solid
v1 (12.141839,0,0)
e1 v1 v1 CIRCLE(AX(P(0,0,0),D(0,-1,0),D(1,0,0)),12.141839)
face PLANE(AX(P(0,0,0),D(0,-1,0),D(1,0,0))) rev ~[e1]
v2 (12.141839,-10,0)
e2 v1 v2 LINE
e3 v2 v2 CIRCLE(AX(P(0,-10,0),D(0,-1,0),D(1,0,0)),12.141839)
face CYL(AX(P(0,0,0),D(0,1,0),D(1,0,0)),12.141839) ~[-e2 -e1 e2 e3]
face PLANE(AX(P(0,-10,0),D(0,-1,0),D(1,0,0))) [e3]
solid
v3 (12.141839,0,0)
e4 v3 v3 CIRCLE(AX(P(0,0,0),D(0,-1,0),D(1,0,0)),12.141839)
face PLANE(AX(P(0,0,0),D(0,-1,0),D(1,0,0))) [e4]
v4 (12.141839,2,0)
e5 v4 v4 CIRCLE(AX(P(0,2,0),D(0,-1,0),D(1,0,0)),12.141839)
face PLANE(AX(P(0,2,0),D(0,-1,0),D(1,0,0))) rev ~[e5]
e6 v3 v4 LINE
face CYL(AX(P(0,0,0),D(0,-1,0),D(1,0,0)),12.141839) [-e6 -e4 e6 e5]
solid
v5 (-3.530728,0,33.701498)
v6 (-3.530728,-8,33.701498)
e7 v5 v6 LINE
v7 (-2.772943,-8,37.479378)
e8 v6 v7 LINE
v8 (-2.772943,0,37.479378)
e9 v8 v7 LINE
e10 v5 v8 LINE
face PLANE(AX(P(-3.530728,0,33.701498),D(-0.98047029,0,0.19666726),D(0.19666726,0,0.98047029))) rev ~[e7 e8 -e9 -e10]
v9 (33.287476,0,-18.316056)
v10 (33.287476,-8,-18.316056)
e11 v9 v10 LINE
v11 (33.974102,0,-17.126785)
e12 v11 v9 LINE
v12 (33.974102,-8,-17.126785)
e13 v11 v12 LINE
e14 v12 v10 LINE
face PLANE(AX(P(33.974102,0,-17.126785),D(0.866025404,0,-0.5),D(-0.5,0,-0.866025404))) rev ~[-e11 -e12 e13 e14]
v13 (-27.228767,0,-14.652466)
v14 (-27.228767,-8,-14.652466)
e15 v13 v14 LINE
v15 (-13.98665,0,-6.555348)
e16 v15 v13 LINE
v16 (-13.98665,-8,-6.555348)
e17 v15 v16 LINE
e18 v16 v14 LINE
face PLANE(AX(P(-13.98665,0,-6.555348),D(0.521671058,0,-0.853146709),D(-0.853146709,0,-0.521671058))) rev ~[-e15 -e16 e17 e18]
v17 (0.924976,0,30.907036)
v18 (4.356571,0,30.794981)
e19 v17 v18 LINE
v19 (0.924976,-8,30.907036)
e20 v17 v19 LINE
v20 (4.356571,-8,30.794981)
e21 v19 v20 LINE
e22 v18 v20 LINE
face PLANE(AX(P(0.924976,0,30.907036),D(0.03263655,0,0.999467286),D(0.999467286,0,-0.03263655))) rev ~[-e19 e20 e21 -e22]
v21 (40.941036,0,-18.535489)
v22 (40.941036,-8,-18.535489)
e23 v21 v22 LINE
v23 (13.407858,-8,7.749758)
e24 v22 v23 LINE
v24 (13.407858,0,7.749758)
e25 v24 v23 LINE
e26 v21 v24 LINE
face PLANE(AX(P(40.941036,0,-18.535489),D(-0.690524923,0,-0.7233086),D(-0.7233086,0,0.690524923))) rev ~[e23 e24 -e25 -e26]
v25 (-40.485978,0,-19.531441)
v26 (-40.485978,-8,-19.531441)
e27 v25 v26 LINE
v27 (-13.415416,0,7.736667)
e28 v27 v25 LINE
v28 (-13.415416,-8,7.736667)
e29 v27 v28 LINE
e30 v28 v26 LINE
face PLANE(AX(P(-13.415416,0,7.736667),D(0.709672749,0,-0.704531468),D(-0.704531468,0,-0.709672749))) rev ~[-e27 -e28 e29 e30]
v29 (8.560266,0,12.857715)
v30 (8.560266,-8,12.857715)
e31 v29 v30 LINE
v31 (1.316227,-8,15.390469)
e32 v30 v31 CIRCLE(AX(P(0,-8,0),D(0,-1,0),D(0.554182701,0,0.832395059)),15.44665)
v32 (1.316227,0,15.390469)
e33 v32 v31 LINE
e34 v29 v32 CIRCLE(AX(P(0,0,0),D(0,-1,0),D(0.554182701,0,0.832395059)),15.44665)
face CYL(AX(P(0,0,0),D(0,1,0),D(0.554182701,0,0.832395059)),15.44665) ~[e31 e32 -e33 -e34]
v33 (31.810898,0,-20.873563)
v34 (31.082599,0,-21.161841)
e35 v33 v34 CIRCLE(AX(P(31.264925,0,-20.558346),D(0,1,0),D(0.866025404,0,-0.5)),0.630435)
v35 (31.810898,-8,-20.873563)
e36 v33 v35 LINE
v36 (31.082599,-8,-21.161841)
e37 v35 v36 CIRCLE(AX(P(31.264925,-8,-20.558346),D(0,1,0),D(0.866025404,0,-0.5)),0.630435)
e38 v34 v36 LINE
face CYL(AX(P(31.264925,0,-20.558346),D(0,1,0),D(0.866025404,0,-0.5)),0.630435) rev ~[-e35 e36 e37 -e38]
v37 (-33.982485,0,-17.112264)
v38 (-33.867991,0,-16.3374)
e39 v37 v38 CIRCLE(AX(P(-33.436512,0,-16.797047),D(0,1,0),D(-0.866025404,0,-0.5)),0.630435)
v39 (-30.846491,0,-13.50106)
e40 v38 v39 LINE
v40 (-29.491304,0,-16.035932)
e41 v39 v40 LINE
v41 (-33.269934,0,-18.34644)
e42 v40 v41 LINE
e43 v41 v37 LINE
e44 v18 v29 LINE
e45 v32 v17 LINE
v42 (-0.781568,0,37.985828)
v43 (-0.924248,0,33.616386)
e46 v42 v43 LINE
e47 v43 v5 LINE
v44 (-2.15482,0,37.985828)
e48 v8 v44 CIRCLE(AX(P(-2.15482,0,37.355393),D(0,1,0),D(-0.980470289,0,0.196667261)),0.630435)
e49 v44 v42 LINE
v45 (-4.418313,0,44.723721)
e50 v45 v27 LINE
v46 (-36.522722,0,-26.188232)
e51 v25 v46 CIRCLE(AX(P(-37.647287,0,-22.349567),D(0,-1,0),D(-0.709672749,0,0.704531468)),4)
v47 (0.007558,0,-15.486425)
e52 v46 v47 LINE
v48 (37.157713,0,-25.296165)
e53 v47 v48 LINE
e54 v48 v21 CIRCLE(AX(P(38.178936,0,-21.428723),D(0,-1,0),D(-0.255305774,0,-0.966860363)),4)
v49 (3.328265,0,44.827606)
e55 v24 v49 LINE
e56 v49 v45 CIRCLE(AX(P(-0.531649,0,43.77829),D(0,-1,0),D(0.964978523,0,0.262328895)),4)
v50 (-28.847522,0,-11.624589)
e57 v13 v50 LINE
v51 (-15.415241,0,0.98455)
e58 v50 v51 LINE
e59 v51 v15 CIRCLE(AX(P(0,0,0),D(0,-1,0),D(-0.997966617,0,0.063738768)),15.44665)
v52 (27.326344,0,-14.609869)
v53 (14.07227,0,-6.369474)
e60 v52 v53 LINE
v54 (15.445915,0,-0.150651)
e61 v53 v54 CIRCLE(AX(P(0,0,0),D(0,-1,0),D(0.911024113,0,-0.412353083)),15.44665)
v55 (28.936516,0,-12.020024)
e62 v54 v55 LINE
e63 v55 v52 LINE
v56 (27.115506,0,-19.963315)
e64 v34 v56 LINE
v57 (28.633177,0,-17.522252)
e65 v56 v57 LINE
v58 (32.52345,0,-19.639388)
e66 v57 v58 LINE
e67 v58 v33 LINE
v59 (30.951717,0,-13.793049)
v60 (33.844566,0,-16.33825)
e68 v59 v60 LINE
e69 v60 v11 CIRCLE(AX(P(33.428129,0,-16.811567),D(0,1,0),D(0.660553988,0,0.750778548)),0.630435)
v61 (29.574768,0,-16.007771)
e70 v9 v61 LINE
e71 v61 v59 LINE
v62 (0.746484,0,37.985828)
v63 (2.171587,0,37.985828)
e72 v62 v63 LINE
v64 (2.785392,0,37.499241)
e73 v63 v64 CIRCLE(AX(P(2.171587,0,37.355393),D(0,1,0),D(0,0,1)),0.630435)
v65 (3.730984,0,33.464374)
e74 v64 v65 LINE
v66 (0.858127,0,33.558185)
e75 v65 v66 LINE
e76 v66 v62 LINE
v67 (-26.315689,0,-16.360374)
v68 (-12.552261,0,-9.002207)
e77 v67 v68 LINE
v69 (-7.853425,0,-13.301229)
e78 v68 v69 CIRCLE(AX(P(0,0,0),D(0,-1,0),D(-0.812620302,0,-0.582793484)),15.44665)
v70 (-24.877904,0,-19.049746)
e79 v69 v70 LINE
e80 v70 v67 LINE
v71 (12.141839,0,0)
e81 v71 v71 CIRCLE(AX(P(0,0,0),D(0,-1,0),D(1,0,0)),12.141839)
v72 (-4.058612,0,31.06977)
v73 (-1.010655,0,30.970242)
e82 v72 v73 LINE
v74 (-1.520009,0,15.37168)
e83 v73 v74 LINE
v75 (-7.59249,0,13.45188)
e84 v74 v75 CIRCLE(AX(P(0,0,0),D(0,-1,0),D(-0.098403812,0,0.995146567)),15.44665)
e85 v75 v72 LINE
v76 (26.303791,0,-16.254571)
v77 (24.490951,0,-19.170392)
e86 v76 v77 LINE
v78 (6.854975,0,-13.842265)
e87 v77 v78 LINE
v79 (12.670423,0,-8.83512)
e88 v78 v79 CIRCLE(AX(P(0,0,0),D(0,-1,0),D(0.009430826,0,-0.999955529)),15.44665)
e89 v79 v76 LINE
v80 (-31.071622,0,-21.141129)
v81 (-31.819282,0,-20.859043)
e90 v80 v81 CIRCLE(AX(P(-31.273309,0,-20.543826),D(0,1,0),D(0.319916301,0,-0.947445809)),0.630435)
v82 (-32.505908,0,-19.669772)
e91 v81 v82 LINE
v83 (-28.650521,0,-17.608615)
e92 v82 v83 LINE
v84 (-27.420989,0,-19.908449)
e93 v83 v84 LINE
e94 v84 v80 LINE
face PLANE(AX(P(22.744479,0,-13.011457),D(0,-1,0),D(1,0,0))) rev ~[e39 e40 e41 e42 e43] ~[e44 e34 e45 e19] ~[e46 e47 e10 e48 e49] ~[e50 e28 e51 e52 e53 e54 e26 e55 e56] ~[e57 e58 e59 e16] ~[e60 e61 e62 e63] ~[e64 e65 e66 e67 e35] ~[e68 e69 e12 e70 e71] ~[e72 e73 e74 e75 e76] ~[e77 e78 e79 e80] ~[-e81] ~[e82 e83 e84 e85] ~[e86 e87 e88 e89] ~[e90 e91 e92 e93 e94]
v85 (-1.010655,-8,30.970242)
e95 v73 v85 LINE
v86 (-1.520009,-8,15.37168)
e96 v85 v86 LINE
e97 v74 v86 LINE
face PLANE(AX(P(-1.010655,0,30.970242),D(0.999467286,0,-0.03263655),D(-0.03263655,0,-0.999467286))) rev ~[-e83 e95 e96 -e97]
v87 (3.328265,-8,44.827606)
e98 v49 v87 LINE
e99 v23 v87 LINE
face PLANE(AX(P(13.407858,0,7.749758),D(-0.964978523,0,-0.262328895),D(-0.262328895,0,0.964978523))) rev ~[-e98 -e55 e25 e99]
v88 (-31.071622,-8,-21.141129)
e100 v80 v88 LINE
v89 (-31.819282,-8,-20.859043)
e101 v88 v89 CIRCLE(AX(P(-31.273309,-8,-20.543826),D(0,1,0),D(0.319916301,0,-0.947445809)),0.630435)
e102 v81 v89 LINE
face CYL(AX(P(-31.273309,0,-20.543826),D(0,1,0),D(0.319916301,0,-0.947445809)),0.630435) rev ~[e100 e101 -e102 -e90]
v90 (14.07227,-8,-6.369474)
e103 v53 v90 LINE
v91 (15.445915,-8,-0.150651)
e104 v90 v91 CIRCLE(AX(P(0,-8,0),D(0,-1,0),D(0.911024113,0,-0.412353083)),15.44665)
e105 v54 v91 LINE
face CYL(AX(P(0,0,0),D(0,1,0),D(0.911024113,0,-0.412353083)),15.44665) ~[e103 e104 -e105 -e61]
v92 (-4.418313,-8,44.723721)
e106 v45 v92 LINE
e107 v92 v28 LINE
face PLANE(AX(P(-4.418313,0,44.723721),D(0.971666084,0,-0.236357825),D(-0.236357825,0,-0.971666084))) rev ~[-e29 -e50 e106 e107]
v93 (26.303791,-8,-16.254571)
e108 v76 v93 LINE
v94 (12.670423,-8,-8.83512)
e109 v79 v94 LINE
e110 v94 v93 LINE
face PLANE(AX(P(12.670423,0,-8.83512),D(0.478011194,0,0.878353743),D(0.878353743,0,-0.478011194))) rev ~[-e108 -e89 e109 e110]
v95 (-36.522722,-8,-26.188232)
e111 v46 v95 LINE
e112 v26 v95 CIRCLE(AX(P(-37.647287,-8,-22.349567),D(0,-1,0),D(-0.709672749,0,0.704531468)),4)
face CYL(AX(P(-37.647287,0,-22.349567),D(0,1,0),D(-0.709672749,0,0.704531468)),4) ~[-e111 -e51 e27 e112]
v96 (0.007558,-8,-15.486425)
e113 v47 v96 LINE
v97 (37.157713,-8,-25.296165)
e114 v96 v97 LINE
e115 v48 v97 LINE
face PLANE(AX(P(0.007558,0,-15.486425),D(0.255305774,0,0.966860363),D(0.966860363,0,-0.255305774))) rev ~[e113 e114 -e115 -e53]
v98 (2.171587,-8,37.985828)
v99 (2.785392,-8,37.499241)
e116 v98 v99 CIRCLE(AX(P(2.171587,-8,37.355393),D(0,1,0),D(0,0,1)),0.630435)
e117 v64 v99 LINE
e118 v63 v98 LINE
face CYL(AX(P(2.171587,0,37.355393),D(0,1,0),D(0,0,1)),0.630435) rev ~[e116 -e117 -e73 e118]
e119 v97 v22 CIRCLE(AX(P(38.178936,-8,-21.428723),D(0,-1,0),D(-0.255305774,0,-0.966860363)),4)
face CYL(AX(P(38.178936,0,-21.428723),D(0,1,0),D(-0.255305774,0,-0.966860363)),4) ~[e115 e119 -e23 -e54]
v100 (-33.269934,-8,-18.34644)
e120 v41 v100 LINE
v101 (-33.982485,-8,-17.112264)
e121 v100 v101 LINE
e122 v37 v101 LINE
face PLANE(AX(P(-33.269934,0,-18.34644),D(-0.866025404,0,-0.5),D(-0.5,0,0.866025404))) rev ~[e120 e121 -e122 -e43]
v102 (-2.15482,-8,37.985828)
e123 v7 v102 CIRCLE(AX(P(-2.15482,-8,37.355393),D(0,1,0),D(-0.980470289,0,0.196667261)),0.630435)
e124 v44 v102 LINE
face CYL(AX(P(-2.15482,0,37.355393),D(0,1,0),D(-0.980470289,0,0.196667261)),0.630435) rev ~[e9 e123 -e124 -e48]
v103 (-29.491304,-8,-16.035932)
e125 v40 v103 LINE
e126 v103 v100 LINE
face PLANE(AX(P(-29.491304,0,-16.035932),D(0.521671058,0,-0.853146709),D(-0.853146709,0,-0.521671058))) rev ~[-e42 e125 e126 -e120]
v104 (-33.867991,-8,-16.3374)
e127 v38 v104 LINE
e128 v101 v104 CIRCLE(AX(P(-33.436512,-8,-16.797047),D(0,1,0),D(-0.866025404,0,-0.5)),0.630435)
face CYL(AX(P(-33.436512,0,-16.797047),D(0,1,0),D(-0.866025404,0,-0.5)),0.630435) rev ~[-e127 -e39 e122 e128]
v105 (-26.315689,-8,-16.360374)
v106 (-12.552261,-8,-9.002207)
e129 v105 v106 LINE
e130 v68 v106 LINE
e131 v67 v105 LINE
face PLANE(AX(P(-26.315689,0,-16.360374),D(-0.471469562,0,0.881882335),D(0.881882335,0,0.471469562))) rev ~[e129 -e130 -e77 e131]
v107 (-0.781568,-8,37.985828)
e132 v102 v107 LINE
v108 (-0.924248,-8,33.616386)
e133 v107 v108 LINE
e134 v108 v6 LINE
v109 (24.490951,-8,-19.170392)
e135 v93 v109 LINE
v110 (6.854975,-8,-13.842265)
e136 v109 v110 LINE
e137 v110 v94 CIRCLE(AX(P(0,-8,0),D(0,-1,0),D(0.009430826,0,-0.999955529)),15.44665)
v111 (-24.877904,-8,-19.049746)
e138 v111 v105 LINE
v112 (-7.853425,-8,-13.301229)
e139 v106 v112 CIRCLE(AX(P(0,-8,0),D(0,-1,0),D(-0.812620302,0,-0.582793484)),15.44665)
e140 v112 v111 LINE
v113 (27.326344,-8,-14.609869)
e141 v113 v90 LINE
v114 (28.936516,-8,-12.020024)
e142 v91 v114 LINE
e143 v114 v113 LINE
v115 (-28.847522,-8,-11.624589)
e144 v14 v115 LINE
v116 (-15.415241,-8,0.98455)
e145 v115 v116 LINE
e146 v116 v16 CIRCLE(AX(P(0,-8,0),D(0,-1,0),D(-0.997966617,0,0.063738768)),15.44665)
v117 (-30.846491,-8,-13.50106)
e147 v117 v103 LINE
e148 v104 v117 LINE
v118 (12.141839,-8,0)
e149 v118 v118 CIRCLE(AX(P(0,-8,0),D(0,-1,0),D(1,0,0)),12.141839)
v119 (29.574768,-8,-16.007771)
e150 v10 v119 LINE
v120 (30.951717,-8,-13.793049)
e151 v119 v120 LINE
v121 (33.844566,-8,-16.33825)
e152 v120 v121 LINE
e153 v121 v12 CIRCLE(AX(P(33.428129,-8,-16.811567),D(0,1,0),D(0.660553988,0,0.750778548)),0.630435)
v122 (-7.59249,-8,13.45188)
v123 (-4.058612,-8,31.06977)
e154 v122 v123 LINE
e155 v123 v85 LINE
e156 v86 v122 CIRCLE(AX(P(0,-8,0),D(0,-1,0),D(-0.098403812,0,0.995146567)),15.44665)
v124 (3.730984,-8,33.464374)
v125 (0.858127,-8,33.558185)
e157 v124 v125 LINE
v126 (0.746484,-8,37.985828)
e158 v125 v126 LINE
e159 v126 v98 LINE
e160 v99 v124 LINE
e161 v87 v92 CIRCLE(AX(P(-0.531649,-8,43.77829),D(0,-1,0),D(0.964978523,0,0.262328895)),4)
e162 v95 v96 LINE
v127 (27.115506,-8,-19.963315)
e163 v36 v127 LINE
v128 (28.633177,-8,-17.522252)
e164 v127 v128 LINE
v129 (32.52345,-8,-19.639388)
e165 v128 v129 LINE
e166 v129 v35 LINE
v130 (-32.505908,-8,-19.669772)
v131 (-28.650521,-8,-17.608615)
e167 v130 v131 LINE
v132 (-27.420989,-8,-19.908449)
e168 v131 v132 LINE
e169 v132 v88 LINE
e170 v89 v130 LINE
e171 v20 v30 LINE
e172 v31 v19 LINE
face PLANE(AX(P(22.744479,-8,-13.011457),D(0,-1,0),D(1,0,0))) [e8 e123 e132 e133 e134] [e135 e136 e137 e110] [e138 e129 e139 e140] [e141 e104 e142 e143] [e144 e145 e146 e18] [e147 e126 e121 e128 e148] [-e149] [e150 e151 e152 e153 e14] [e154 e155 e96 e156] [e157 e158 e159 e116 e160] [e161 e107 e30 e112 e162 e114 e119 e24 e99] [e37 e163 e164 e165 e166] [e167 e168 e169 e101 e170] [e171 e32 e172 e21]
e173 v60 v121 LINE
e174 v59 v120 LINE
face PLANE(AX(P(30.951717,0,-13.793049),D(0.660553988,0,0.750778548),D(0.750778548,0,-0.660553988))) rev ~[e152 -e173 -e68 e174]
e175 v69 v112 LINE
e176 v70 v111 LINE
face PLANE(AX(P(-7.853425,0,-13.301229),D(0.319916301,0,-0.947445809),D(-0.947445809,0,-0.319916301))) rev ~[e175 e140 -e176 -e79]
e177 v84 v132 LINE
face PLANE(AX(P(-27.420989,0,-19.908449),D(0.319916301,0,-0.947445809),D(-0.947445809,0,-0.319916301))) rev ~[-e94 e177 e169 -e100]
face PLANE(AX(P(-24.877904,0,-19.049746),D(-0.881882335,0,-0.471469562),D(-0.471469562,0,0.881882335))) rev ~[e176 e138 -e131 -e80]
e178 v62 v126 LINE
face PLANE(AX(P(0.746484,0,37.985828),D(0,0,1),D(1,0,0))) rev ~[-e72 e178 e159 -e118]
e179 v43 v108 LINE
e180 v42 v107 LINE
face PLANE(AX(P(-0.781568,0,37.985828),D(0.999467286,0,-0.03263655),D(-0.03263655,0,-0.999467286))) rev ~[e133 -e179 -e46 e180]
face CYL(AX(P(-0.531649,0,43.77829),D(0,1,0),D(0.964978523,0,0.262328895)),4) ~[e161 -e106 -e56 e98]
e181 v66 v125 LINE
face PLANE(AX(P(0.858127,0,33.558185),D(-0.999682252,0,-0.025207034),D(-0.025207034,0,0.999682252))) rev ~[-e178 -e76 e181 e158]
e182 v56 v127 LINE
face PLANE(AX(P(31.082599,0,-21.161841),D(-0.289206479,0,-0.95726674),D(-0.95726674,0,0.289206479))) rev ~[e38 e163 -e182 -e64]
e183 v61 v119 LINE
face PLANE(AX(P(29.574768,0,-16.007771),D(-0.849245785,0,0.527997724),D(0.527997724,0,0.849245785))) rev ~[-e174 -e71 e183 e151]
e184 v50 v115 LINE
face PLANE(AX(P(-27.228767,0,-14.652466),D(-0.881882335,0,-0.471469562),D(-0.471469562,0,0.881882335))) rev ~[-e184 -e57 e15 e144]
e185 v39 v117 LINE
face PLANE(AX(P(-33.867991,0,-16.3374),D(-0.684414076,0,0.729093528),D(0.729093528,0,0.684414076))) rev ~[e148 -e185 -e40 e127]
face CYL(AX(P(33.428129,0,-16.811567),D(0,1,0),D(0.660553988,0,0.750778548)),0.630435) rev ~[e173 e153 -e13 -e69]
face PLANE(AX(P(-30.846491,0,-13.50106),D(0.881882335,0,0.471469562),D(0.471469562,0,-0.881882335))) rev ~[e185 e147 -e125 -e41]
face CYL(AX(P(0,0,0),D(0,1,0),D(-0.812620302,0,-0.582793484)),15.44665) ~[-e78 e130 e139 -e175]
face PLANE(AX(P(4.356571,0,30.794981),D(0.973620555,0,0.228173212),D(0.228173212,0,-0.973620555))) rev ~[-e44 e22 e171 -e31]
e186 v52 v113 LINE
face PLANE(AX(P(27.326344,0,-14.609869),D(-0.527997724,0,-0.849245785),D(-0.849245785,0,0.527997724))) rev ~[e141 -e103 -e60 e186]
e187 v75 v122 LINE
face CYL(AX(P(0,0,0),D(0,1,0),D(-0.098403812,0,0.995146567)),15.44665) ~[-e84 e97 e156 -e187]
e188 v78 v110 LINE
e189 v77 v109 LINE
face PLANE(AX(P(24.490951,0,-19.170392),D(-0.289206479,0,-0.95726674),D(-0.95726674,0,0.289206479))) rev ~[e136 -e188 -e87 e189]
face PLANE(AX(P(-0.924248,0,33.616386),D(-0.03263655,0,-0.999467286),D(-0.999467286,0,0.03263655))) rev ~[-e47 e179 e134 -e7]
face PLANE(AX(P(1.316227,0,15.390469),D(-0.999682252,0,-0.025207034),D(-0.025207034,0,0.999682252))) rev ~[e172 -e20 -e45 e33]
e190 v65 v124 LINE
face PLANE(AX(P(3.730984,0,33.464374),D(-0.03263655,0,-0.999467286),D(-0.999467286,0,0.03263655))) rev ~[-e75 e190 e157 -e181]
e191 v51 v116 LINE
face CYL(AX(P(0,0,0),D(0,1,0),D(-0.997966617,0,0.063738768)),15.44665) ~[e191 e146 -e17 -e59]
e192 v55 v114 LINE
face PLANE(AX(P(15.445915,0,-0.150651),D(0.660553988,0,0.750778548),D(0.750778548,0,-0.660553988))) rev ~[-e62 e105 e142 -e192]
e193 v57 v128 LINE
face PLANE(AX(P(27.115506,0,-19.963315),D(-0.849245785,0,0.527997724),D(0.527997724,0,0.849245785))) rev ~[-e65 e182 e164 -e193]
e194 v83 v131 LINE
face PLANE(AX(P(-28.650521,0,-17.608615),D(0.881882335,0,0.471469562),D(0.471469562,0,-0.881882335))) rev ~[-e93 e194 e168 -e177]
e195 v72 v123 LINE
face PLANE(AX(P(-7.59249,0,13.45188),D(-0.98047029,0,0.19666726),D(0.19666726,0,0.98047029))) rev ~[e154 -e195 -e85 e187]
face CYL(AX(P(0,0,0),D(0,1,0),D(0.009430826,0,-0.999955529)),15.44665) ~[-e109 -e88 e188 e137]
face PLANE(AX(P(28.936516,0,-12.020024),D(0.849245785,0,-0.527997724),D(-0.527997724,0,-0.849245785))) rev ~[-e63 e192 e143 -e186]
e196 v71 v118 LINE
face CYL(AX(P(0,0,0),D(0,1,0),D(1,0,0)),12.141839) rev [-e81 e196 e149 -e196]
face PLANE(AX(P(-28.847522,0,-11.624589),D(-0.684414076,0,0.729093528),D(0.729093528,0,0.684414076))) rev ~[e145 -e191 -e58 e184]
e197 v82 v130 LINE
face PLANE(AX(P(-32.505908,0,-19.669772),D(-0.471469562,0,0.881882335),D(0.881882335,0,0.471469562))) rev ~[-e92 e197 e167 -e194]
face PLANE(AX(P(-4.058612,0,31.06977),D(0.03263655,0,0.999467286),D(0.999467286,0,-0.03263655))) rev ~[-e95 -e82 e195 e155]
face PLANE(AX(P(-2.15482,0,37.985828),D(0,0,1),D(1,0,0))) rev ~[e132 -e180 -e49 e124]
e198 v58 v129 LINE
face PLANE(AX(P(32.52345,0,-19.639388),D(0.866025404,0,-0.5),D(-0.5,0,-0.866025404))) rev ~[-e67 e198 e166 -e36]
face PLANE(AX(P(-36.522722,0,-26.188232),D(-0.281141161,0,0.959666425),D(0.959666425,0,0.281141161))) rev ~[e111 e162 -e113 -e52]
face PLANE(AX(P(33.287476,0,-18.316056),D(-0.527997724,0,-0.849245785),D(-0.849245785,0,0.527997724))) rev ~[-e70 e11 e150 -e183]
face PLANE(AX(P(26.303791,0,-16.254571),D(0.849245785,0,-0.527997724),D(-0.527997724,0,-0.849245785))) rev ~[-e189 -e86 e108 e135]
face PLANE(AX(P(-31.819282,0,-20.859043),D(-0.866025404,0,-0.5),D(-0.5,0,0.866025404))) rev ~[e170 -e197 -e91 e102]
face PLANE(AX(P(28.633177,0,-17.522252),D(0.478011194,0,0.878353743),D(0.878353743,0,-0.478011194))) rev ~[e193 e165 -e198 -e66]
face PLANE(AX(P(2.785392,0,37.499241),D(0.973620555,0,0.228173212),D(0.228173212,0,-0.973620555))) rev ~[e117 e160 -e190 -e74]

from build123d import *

# Parameters (mm, degrees)
F0_R     = 12.1418390121
F1_DEPTH = 8
F2_DEPTH = 2
F3_DEPTH = 10


with BuildPart() as f1:
    # F0 (on Front) → F1 (new body)
    with BuildSketch(Plane.XZ):
        with BuildLine():
            ThreePointArc((13.4494333026, 7.5968233332), (14.9390037013, 3.9274863881), (15.4466495046, 0))
            ThreePointArc((15.4466495046, 0), (15.4464658378, -0.0753262184), (15.4459148418, -0.1506506455))
            Line((15.4459148418, -0.1506506455), (28.9365164109, -12.0200237039))
            Line((28.9365164109, -12.0200237039), (30.9517174769, -13.7930486589))
            Line((30.9517174769, -13.7930486589), (33.8445656343, -16.338249761))
            ThreePointArc((33.8445656343, -16.338249761), (34.0502262206, -16.7093721334), (33.9741020568, -17.1267846437))
            Line((33.9741020568, -17.1267846437), (33.287475865, -18.3160560936))
            Line((33.287475865, -18.3160560936), (32.5234499077, -19.63938787))
            Line((32.5234499077, -19.63938787), (31.8108983077, -20.8735634443))
            ThreePointArc((31.8108983077, -20.8735634443), (31.4969505806, -21.1445308611), (31.0825994105, -21.1618405147))
            Line((31.0825994105, -21.1618405147), (27.1155061195, -19.9633145088))
            Line((27.1155061195, -19.9633145088), (24.4909505049, -19.1703918504))
            Line((24.4909505049, -19.1703918504), (6.8549746085, -13.8422651338))
            ThreePointArc((6.8549746085, -13.8422651338), (3.5909934423, -15.0234399195), (0.1456746567, -15.4459625732))
            Line((0.1456746567, -15.4459625732), (0.0075583308, -15.4864247412))
            Line((0.0075583308, -15.4864247412), (37.1577128338, -25.2961649207))
            ThreePointArc((37.1577128338, -25.2961649207), (41.6695443761, -23.3820930381), (40.9410356224, -18.535489069))
            Line((40.9410356224, -18.535489069), (13.4078580743, 7.7497580771))
            Line((13.4078580743, 7.7497580771), (13.4494333026, 7.5968233332))
        make_face()
        with BuildLine():
            ThreePointArc((13.3037586459, 7.8491392399), (13.3771908743, 7.7233247523), (13.4494333026, 7.5968233332))
            Line((13.4494333026, 7.5968233332), (13.4078580743, 7.7497580771))
            Line((13.4078580743, 7.7497580771), (13.3037586459, 7.8491392399))
        make_face()
        with BuildLine():
            ThreePointArc((8.5602659475, 12.8577147202), (11.2151839013, 10.6216115056), (13.3037586459, 7.8491392399))
            Line((13.3037586459, 7.8491392399), (13.4078580743, 7.7497580771))
            Line((13.4078580743, 7.7497580771), (3.3282650227, 44.8276057209))
            ThreePointArc((3.3282650227, 44.8276057209), (-0.5852856234, 47.7779305128), (-4.4183134059, 44.7237214407))
            Line((-4.4183134059, 44.7237214407), (-13.4154164051, 7.7366666641))
            Line((-13.4154164051, 7.7366666641), (-13.3037586459, 7.8491392399))
            ThreePointArc((-13.3037586459, 7.8491392399), (-10.8171613269, 11.0266949602), (-7.5924901348, 13.4518799604))
            Line((-7.5924901348, 13.4518799604), (-4.0586123238, 31.0697701608))
            Line((-4.0586123238, 31.0697701608), (-3.5307282042, 33.7014979552))
            Line((-3.5307282042, 33.7014979552), (-2.7729434708, 37.4793784999))
            ThreePointArc((-2.7729434708, 37.4793784999), (-2.5543723614, 37.8430469783), (-2.1548204418, 37.9858277738))
            Line((-2.1548204418, 37.9858277738), (-0.7815680583, 37.9858277738))
            Line((-0.7815680583, 37.9858277738), (0.7464838564, 37.9858277738))
            Line((0.7464838564, 37.9858277738), (2.1715870564, 37.9858277738))
            ThreePointArc((2.1715870564, 37.9858277738), (2.5632255865, 37.8494247751), (2.7853917713, 37.4992409625))
            Line((2.7853917713, 37.4992409625), (3.7309844486, 33.4643743904))
            Line((3.7309844486, 33.4643743904), (4.3565710905, 30.7949812253))
            Line((4.3565710905, 30.7949812253), (8.5602659475, 12.8577147202))
        make_face()
        with BuildLine():
            Line((-13.3037586459, 7.8491392399), (-13.4154164051, 7.7366666641))
            Line((-13.4154164051, 7.7366666641), (-13.4494333026, 7.5968233332))
            ThreePointArc((-13.4494333026, 7.5968233332), (-13.3771908743, 7.7233247523), (-13.3037586459, 7.8491392399))
        make_face()
        with BuildLine():
            Line((-13.4494333026, 7.5968233332), (-13.4154164051, 7.7366666641))
            Line((-13.4154164051, 7.7366666641), (-40.4859778565, -19.5314408002))
            ThreePointArc((-40.4859778565, -19.5314408002), (-41.0842587527, -24.3958374747), (-36.5227222165, -26.1882323718))
            Line((-36.5227222165, -26.1882323718), (0.0075583308, -15.4864247412))
            Line((0.0075583308, -15.4864247412), (-0.1456746567, -15.4459625732))
            ThreePointArc((-0.1456746567, -15.4459625732), (-4.1408172919, -14.881283986), (-7.853424707, -13.3012293149))
            Line((-7.853424707, -13.3012293149), (-24.8779040871, -19.0497464569))
            Line((-24.8779040871, -19.0497464569), (-27.4209892727, -19.9084492963))
            Line((-27.4209892727, -19.9084492963), (-31.0716221636, -21.1411287389))
            ThreePointArc((-31.0716221636, -21.1411287389), (-31.4958538591, -21.1336748449), (-31.819281615, -20.8590431301))
            Line((-31.819281615, -20.8590431301), (-32.5059078068, -19.6697716802))
            Line((-32.5059078068, -19.6697716802), (-33.2699337641, -18.3464399038))
            Line((-33.2699337641, -18.3464399038), (-33.9824853641, -17.1122643295))
            ThreePointArc((-33.9824853641, -17.1122643295), (-34.0601761671, -16.704893914), (-33.8679911818, -16.3374004478))
            Line((-33.8679911818, -16.3374004478), (-30.8464905681, -13.5010598816))
            Line((-30.8464905681, -13.5010598816), (-28.8475215954, -11.6245893748))
            Line((-28.8475215954, -11.6245893748), (-15.415240556, 0.9845504136))
            ThreePointArc((-15.415240556, 0.9845504136), (-14.8061773437, 4.4018284139), (-13.4494333026, 7.5968233332))
        make_face()
        with BuildLine():
            Line((-0.1456746567, -15.4459625732), (0.0075583308, -15.4864247412))
            Line((0.0075583308, -15.4864247412), (0.1456746567, -15.4459625732))
            ThreePointArc((0.1456746567, -15.4459625732), (0, -15.4466495046), (-0.1456746567, -15.4459625732))
        make_face()
        Polygon((-28.6505205455, -17.6086149121), (-29.4913038382, -16.0359324036), (-33.2699337641, -18.3464399038), (-32.5059078068, -19.6697716802), align=None)
        Polygon((-26.3156893084, -16.360373716), (-27.2287665842, -14.6524655394), (-29.4913038382, -16.0359324036), (-28.6505205455, -17.6086149121), align=None)
        with BuildLine():
            ThreePointArc((-12.552260982, -9.0022066826), (-13.3257357106, -7.8117698819), (-13.9866503322, -6.5553484576))
            Line((-13.9866503322, -6.5553484576), (-27.2287665842, -14.6524655394))
            Line((-27.2287665842, -14.6524655394), (-26.3156893084, -16.360373716))
            Line((-26.3156893084, -16.360373716), (-12.552260982, -9.0022066826))
        make_face()
        with BuildLine():
            ThreePointArc((15.4459148418, -0.1506506455), (15.4464658378, -0.0753262184), (15.4466495046, 0))
            ThreePointArc((15.4466495046, 0), (14.9390037013, 3.9274863881), (13.4494333026, 7.5968233332))
            ThreePointArc((13.4494333026, 7.5968233332), (13.3771908743, 7.7233247523), (13.3037586459, 7.8491392399))
            ThreePointArc((13.3037586459, 7.8491392399), (11.2151839013, 10.6216115056), (8.5602659475, 12.8577147202))
            ThreePointArc((8.5602659475, 12.8577147202), (5.0980376929, 14.5811176732), (1.3162268711, 15.3904687304))
            ThreePointArc((1.3162268711, 15.3904687304), (-0.1023233109, 15.4463105905), (-1.5200091862, 15.3716802267))
            ThreePointArc((-1.5200091862, 15.3716802267), (-4.6562666627, 14.7281418272), (-7.5924901348, 13.4518799604))
            ThreePointArc((-7.5924901348, 13.4518799604), (-10.8171613269, 11.0266949602), (-13.3037586459, 7.8491392399))
            ThreePointArc((-13.3037586459, 7.8491392399), (-13.3771908743, 7.7233247523), (-13.4494333026, 7.5968233332))
            ThreePointArc((-13.4494333026, 7.5968233332), (-14.8061773437, 4.4018284139), (-15.415240556, 0.9845504136))
            ThreePointArc((-15.415240556, 0.9845504136), (-15.176637167, -2.8755286851), (-13.9866503322, -6.5553484576))
            ThreePointArc((-13.9866503322, -6.5553484576), (-13.3257357106, -7.8117698819), (-12.552260982, -9.0022066826))
            ThreePointArc((-12.552260982, -9.0022066826), (-10.4268116415, -11.3965161303), (-7.853424707, -13.3012293149))
            ThreePointArc((-7.853424707, -13.3012293149), (-4.1408172919, -14.881283986), (-0.1456746567, -15.4459625732))
            ThreePointArc((-0.1456746567, -15.4459625732), (0, -15.4466495046), (0.1456746567, -15.4459625732))
            ThreePointArc((0.1456746567, -15.4459625732), (3.5909934423, -15.0234399195), (6.8549746085, -13.8422651338))
            ThreePointArc((6.8549746085, -13.8422651338), (10.0785994741, -11.7055889881), (12.6704234611, -8.8351202727))
            ThreePointArc((12.6704234611, -8.8351202727), (13.4280590215, -7.6345407086), (14.0722701682, -6.3694735441))
            ThreePointArc((14.0722701682, -6.3694735441), (15.0830783043, -3.3316256969), (15.4459148418, -0.1506506455))
        make_face()
        Circle(F0_R, mode=Mode.SUBTRACT)
        Polygon((-0.9242475666, 33.6163860801), (0.8581270842, 33.5581845165), (0.7464838564, 37.9858277738), (-0.7815680583, 37.9858277738), align=None)
        Polygon((-1.0106545992, 30.9702423172), (0.9249759069, 30.9070363453), (0.8581270842, 33.5581845165), (-0.9242475666, 33.6163860801), align=None)
        with BuildLine():
            ThreePointArc((-1.5200091862, 15.3716802267), (-0.1023233109, 15.4463105905), (1.3162268711, 15.3904687304))
            Line((1.3162268711, 15.3904687304), (0.9249759069, 30.9070363453))
            Line((0.9249759069, 30.9070363453), (-1.0106545992, 30.9702423172))
            Line((-1.0106545992, 30.9702423172), (-1.5200091862, 15.3716802267))
        make_face()
        Polygon((33.287475865, -18.3160560936), (29.5747681121, -16.007771168), (28.633176754, -17.5222521128), (32.5234499077, -19.63938787), align=None)
        Polygon((29.5747681121, -16.007771168), (27.3263439077, -14.6098686012), (26.3037906773, -16.254570806), (28.633176754, -17.5222521128), align=None)
        with BuildLine():
            Line((27.3263439077, -14.6098686012), (14.0722701682, -6.3694735441))
            ThreePointArc((14.0722701682, -6.3694735441), (13.4280590215, -7.6345407086), (12.6704234611, -8.8351202727))
            Line((12.6704234611, -8.8351202727), (26.3037906773, -16.254570806))
            Line((26.3037906773, -16.254570806), (27.3263439077, -14.6098686012))
        make_face()
        Polygon((0.9249759069, 30.9070363453), (4.3565710905, 30.7949812253), (3.7309844486, 33.4643743904), (0.8581270842, 33.5581845165), align=None)
        Polygon((-4.0586123238, 31.0697701608), (-1.0106545992, 30.9702423172), (-0.9242475666, 33.6163860801), (-3.5307282042, 33.7014979552), align=None)
        Polygon((-27.2287665842, -14.6524655394), (-28.8475215954, -11.6245893748), (-30.8464905681, -13.5010598816), (-29.4913038382, -16.0359324036), align=None)
        Polygon((-27.4209892727, -19.9084492963), (-24.8779040871, -19.0497464569), (-26.3156893084, -16.360373716), (-28.6505205455, -17.6086149121), align=None)
        Polygon((30.9517174769, -13.7930486589), (28.9365164109, -12.0200237039), (27.3263439077, -14.6098686012), (29.5747681121, -16.007771168), align=None)
        Polygon((28.633176754, -17.5222521128), (26.3037906773, -16.254570806), (24.4909505049, -19.1703918504), (27.1155061195, -19.9633145088), align=None)
    extrude(amount=F1_DEPTH)


with BuildPart() as f2:
    # F0 (on Front) → F2 (new body)
    with BuildSketch(Plane.XZ):
        Circle(F0_R)
    extrude(amount=-F2_DEPTH)


with BuildPart() as f3:
    # F0 (on Front) → F3 (new body)
    with BuildSketch(Plane.XZ):
        Circle(F0_R)
    extrude(amount=F3_DEPTH)


solid = Compound([f1.part, f2.part, f3.part])
